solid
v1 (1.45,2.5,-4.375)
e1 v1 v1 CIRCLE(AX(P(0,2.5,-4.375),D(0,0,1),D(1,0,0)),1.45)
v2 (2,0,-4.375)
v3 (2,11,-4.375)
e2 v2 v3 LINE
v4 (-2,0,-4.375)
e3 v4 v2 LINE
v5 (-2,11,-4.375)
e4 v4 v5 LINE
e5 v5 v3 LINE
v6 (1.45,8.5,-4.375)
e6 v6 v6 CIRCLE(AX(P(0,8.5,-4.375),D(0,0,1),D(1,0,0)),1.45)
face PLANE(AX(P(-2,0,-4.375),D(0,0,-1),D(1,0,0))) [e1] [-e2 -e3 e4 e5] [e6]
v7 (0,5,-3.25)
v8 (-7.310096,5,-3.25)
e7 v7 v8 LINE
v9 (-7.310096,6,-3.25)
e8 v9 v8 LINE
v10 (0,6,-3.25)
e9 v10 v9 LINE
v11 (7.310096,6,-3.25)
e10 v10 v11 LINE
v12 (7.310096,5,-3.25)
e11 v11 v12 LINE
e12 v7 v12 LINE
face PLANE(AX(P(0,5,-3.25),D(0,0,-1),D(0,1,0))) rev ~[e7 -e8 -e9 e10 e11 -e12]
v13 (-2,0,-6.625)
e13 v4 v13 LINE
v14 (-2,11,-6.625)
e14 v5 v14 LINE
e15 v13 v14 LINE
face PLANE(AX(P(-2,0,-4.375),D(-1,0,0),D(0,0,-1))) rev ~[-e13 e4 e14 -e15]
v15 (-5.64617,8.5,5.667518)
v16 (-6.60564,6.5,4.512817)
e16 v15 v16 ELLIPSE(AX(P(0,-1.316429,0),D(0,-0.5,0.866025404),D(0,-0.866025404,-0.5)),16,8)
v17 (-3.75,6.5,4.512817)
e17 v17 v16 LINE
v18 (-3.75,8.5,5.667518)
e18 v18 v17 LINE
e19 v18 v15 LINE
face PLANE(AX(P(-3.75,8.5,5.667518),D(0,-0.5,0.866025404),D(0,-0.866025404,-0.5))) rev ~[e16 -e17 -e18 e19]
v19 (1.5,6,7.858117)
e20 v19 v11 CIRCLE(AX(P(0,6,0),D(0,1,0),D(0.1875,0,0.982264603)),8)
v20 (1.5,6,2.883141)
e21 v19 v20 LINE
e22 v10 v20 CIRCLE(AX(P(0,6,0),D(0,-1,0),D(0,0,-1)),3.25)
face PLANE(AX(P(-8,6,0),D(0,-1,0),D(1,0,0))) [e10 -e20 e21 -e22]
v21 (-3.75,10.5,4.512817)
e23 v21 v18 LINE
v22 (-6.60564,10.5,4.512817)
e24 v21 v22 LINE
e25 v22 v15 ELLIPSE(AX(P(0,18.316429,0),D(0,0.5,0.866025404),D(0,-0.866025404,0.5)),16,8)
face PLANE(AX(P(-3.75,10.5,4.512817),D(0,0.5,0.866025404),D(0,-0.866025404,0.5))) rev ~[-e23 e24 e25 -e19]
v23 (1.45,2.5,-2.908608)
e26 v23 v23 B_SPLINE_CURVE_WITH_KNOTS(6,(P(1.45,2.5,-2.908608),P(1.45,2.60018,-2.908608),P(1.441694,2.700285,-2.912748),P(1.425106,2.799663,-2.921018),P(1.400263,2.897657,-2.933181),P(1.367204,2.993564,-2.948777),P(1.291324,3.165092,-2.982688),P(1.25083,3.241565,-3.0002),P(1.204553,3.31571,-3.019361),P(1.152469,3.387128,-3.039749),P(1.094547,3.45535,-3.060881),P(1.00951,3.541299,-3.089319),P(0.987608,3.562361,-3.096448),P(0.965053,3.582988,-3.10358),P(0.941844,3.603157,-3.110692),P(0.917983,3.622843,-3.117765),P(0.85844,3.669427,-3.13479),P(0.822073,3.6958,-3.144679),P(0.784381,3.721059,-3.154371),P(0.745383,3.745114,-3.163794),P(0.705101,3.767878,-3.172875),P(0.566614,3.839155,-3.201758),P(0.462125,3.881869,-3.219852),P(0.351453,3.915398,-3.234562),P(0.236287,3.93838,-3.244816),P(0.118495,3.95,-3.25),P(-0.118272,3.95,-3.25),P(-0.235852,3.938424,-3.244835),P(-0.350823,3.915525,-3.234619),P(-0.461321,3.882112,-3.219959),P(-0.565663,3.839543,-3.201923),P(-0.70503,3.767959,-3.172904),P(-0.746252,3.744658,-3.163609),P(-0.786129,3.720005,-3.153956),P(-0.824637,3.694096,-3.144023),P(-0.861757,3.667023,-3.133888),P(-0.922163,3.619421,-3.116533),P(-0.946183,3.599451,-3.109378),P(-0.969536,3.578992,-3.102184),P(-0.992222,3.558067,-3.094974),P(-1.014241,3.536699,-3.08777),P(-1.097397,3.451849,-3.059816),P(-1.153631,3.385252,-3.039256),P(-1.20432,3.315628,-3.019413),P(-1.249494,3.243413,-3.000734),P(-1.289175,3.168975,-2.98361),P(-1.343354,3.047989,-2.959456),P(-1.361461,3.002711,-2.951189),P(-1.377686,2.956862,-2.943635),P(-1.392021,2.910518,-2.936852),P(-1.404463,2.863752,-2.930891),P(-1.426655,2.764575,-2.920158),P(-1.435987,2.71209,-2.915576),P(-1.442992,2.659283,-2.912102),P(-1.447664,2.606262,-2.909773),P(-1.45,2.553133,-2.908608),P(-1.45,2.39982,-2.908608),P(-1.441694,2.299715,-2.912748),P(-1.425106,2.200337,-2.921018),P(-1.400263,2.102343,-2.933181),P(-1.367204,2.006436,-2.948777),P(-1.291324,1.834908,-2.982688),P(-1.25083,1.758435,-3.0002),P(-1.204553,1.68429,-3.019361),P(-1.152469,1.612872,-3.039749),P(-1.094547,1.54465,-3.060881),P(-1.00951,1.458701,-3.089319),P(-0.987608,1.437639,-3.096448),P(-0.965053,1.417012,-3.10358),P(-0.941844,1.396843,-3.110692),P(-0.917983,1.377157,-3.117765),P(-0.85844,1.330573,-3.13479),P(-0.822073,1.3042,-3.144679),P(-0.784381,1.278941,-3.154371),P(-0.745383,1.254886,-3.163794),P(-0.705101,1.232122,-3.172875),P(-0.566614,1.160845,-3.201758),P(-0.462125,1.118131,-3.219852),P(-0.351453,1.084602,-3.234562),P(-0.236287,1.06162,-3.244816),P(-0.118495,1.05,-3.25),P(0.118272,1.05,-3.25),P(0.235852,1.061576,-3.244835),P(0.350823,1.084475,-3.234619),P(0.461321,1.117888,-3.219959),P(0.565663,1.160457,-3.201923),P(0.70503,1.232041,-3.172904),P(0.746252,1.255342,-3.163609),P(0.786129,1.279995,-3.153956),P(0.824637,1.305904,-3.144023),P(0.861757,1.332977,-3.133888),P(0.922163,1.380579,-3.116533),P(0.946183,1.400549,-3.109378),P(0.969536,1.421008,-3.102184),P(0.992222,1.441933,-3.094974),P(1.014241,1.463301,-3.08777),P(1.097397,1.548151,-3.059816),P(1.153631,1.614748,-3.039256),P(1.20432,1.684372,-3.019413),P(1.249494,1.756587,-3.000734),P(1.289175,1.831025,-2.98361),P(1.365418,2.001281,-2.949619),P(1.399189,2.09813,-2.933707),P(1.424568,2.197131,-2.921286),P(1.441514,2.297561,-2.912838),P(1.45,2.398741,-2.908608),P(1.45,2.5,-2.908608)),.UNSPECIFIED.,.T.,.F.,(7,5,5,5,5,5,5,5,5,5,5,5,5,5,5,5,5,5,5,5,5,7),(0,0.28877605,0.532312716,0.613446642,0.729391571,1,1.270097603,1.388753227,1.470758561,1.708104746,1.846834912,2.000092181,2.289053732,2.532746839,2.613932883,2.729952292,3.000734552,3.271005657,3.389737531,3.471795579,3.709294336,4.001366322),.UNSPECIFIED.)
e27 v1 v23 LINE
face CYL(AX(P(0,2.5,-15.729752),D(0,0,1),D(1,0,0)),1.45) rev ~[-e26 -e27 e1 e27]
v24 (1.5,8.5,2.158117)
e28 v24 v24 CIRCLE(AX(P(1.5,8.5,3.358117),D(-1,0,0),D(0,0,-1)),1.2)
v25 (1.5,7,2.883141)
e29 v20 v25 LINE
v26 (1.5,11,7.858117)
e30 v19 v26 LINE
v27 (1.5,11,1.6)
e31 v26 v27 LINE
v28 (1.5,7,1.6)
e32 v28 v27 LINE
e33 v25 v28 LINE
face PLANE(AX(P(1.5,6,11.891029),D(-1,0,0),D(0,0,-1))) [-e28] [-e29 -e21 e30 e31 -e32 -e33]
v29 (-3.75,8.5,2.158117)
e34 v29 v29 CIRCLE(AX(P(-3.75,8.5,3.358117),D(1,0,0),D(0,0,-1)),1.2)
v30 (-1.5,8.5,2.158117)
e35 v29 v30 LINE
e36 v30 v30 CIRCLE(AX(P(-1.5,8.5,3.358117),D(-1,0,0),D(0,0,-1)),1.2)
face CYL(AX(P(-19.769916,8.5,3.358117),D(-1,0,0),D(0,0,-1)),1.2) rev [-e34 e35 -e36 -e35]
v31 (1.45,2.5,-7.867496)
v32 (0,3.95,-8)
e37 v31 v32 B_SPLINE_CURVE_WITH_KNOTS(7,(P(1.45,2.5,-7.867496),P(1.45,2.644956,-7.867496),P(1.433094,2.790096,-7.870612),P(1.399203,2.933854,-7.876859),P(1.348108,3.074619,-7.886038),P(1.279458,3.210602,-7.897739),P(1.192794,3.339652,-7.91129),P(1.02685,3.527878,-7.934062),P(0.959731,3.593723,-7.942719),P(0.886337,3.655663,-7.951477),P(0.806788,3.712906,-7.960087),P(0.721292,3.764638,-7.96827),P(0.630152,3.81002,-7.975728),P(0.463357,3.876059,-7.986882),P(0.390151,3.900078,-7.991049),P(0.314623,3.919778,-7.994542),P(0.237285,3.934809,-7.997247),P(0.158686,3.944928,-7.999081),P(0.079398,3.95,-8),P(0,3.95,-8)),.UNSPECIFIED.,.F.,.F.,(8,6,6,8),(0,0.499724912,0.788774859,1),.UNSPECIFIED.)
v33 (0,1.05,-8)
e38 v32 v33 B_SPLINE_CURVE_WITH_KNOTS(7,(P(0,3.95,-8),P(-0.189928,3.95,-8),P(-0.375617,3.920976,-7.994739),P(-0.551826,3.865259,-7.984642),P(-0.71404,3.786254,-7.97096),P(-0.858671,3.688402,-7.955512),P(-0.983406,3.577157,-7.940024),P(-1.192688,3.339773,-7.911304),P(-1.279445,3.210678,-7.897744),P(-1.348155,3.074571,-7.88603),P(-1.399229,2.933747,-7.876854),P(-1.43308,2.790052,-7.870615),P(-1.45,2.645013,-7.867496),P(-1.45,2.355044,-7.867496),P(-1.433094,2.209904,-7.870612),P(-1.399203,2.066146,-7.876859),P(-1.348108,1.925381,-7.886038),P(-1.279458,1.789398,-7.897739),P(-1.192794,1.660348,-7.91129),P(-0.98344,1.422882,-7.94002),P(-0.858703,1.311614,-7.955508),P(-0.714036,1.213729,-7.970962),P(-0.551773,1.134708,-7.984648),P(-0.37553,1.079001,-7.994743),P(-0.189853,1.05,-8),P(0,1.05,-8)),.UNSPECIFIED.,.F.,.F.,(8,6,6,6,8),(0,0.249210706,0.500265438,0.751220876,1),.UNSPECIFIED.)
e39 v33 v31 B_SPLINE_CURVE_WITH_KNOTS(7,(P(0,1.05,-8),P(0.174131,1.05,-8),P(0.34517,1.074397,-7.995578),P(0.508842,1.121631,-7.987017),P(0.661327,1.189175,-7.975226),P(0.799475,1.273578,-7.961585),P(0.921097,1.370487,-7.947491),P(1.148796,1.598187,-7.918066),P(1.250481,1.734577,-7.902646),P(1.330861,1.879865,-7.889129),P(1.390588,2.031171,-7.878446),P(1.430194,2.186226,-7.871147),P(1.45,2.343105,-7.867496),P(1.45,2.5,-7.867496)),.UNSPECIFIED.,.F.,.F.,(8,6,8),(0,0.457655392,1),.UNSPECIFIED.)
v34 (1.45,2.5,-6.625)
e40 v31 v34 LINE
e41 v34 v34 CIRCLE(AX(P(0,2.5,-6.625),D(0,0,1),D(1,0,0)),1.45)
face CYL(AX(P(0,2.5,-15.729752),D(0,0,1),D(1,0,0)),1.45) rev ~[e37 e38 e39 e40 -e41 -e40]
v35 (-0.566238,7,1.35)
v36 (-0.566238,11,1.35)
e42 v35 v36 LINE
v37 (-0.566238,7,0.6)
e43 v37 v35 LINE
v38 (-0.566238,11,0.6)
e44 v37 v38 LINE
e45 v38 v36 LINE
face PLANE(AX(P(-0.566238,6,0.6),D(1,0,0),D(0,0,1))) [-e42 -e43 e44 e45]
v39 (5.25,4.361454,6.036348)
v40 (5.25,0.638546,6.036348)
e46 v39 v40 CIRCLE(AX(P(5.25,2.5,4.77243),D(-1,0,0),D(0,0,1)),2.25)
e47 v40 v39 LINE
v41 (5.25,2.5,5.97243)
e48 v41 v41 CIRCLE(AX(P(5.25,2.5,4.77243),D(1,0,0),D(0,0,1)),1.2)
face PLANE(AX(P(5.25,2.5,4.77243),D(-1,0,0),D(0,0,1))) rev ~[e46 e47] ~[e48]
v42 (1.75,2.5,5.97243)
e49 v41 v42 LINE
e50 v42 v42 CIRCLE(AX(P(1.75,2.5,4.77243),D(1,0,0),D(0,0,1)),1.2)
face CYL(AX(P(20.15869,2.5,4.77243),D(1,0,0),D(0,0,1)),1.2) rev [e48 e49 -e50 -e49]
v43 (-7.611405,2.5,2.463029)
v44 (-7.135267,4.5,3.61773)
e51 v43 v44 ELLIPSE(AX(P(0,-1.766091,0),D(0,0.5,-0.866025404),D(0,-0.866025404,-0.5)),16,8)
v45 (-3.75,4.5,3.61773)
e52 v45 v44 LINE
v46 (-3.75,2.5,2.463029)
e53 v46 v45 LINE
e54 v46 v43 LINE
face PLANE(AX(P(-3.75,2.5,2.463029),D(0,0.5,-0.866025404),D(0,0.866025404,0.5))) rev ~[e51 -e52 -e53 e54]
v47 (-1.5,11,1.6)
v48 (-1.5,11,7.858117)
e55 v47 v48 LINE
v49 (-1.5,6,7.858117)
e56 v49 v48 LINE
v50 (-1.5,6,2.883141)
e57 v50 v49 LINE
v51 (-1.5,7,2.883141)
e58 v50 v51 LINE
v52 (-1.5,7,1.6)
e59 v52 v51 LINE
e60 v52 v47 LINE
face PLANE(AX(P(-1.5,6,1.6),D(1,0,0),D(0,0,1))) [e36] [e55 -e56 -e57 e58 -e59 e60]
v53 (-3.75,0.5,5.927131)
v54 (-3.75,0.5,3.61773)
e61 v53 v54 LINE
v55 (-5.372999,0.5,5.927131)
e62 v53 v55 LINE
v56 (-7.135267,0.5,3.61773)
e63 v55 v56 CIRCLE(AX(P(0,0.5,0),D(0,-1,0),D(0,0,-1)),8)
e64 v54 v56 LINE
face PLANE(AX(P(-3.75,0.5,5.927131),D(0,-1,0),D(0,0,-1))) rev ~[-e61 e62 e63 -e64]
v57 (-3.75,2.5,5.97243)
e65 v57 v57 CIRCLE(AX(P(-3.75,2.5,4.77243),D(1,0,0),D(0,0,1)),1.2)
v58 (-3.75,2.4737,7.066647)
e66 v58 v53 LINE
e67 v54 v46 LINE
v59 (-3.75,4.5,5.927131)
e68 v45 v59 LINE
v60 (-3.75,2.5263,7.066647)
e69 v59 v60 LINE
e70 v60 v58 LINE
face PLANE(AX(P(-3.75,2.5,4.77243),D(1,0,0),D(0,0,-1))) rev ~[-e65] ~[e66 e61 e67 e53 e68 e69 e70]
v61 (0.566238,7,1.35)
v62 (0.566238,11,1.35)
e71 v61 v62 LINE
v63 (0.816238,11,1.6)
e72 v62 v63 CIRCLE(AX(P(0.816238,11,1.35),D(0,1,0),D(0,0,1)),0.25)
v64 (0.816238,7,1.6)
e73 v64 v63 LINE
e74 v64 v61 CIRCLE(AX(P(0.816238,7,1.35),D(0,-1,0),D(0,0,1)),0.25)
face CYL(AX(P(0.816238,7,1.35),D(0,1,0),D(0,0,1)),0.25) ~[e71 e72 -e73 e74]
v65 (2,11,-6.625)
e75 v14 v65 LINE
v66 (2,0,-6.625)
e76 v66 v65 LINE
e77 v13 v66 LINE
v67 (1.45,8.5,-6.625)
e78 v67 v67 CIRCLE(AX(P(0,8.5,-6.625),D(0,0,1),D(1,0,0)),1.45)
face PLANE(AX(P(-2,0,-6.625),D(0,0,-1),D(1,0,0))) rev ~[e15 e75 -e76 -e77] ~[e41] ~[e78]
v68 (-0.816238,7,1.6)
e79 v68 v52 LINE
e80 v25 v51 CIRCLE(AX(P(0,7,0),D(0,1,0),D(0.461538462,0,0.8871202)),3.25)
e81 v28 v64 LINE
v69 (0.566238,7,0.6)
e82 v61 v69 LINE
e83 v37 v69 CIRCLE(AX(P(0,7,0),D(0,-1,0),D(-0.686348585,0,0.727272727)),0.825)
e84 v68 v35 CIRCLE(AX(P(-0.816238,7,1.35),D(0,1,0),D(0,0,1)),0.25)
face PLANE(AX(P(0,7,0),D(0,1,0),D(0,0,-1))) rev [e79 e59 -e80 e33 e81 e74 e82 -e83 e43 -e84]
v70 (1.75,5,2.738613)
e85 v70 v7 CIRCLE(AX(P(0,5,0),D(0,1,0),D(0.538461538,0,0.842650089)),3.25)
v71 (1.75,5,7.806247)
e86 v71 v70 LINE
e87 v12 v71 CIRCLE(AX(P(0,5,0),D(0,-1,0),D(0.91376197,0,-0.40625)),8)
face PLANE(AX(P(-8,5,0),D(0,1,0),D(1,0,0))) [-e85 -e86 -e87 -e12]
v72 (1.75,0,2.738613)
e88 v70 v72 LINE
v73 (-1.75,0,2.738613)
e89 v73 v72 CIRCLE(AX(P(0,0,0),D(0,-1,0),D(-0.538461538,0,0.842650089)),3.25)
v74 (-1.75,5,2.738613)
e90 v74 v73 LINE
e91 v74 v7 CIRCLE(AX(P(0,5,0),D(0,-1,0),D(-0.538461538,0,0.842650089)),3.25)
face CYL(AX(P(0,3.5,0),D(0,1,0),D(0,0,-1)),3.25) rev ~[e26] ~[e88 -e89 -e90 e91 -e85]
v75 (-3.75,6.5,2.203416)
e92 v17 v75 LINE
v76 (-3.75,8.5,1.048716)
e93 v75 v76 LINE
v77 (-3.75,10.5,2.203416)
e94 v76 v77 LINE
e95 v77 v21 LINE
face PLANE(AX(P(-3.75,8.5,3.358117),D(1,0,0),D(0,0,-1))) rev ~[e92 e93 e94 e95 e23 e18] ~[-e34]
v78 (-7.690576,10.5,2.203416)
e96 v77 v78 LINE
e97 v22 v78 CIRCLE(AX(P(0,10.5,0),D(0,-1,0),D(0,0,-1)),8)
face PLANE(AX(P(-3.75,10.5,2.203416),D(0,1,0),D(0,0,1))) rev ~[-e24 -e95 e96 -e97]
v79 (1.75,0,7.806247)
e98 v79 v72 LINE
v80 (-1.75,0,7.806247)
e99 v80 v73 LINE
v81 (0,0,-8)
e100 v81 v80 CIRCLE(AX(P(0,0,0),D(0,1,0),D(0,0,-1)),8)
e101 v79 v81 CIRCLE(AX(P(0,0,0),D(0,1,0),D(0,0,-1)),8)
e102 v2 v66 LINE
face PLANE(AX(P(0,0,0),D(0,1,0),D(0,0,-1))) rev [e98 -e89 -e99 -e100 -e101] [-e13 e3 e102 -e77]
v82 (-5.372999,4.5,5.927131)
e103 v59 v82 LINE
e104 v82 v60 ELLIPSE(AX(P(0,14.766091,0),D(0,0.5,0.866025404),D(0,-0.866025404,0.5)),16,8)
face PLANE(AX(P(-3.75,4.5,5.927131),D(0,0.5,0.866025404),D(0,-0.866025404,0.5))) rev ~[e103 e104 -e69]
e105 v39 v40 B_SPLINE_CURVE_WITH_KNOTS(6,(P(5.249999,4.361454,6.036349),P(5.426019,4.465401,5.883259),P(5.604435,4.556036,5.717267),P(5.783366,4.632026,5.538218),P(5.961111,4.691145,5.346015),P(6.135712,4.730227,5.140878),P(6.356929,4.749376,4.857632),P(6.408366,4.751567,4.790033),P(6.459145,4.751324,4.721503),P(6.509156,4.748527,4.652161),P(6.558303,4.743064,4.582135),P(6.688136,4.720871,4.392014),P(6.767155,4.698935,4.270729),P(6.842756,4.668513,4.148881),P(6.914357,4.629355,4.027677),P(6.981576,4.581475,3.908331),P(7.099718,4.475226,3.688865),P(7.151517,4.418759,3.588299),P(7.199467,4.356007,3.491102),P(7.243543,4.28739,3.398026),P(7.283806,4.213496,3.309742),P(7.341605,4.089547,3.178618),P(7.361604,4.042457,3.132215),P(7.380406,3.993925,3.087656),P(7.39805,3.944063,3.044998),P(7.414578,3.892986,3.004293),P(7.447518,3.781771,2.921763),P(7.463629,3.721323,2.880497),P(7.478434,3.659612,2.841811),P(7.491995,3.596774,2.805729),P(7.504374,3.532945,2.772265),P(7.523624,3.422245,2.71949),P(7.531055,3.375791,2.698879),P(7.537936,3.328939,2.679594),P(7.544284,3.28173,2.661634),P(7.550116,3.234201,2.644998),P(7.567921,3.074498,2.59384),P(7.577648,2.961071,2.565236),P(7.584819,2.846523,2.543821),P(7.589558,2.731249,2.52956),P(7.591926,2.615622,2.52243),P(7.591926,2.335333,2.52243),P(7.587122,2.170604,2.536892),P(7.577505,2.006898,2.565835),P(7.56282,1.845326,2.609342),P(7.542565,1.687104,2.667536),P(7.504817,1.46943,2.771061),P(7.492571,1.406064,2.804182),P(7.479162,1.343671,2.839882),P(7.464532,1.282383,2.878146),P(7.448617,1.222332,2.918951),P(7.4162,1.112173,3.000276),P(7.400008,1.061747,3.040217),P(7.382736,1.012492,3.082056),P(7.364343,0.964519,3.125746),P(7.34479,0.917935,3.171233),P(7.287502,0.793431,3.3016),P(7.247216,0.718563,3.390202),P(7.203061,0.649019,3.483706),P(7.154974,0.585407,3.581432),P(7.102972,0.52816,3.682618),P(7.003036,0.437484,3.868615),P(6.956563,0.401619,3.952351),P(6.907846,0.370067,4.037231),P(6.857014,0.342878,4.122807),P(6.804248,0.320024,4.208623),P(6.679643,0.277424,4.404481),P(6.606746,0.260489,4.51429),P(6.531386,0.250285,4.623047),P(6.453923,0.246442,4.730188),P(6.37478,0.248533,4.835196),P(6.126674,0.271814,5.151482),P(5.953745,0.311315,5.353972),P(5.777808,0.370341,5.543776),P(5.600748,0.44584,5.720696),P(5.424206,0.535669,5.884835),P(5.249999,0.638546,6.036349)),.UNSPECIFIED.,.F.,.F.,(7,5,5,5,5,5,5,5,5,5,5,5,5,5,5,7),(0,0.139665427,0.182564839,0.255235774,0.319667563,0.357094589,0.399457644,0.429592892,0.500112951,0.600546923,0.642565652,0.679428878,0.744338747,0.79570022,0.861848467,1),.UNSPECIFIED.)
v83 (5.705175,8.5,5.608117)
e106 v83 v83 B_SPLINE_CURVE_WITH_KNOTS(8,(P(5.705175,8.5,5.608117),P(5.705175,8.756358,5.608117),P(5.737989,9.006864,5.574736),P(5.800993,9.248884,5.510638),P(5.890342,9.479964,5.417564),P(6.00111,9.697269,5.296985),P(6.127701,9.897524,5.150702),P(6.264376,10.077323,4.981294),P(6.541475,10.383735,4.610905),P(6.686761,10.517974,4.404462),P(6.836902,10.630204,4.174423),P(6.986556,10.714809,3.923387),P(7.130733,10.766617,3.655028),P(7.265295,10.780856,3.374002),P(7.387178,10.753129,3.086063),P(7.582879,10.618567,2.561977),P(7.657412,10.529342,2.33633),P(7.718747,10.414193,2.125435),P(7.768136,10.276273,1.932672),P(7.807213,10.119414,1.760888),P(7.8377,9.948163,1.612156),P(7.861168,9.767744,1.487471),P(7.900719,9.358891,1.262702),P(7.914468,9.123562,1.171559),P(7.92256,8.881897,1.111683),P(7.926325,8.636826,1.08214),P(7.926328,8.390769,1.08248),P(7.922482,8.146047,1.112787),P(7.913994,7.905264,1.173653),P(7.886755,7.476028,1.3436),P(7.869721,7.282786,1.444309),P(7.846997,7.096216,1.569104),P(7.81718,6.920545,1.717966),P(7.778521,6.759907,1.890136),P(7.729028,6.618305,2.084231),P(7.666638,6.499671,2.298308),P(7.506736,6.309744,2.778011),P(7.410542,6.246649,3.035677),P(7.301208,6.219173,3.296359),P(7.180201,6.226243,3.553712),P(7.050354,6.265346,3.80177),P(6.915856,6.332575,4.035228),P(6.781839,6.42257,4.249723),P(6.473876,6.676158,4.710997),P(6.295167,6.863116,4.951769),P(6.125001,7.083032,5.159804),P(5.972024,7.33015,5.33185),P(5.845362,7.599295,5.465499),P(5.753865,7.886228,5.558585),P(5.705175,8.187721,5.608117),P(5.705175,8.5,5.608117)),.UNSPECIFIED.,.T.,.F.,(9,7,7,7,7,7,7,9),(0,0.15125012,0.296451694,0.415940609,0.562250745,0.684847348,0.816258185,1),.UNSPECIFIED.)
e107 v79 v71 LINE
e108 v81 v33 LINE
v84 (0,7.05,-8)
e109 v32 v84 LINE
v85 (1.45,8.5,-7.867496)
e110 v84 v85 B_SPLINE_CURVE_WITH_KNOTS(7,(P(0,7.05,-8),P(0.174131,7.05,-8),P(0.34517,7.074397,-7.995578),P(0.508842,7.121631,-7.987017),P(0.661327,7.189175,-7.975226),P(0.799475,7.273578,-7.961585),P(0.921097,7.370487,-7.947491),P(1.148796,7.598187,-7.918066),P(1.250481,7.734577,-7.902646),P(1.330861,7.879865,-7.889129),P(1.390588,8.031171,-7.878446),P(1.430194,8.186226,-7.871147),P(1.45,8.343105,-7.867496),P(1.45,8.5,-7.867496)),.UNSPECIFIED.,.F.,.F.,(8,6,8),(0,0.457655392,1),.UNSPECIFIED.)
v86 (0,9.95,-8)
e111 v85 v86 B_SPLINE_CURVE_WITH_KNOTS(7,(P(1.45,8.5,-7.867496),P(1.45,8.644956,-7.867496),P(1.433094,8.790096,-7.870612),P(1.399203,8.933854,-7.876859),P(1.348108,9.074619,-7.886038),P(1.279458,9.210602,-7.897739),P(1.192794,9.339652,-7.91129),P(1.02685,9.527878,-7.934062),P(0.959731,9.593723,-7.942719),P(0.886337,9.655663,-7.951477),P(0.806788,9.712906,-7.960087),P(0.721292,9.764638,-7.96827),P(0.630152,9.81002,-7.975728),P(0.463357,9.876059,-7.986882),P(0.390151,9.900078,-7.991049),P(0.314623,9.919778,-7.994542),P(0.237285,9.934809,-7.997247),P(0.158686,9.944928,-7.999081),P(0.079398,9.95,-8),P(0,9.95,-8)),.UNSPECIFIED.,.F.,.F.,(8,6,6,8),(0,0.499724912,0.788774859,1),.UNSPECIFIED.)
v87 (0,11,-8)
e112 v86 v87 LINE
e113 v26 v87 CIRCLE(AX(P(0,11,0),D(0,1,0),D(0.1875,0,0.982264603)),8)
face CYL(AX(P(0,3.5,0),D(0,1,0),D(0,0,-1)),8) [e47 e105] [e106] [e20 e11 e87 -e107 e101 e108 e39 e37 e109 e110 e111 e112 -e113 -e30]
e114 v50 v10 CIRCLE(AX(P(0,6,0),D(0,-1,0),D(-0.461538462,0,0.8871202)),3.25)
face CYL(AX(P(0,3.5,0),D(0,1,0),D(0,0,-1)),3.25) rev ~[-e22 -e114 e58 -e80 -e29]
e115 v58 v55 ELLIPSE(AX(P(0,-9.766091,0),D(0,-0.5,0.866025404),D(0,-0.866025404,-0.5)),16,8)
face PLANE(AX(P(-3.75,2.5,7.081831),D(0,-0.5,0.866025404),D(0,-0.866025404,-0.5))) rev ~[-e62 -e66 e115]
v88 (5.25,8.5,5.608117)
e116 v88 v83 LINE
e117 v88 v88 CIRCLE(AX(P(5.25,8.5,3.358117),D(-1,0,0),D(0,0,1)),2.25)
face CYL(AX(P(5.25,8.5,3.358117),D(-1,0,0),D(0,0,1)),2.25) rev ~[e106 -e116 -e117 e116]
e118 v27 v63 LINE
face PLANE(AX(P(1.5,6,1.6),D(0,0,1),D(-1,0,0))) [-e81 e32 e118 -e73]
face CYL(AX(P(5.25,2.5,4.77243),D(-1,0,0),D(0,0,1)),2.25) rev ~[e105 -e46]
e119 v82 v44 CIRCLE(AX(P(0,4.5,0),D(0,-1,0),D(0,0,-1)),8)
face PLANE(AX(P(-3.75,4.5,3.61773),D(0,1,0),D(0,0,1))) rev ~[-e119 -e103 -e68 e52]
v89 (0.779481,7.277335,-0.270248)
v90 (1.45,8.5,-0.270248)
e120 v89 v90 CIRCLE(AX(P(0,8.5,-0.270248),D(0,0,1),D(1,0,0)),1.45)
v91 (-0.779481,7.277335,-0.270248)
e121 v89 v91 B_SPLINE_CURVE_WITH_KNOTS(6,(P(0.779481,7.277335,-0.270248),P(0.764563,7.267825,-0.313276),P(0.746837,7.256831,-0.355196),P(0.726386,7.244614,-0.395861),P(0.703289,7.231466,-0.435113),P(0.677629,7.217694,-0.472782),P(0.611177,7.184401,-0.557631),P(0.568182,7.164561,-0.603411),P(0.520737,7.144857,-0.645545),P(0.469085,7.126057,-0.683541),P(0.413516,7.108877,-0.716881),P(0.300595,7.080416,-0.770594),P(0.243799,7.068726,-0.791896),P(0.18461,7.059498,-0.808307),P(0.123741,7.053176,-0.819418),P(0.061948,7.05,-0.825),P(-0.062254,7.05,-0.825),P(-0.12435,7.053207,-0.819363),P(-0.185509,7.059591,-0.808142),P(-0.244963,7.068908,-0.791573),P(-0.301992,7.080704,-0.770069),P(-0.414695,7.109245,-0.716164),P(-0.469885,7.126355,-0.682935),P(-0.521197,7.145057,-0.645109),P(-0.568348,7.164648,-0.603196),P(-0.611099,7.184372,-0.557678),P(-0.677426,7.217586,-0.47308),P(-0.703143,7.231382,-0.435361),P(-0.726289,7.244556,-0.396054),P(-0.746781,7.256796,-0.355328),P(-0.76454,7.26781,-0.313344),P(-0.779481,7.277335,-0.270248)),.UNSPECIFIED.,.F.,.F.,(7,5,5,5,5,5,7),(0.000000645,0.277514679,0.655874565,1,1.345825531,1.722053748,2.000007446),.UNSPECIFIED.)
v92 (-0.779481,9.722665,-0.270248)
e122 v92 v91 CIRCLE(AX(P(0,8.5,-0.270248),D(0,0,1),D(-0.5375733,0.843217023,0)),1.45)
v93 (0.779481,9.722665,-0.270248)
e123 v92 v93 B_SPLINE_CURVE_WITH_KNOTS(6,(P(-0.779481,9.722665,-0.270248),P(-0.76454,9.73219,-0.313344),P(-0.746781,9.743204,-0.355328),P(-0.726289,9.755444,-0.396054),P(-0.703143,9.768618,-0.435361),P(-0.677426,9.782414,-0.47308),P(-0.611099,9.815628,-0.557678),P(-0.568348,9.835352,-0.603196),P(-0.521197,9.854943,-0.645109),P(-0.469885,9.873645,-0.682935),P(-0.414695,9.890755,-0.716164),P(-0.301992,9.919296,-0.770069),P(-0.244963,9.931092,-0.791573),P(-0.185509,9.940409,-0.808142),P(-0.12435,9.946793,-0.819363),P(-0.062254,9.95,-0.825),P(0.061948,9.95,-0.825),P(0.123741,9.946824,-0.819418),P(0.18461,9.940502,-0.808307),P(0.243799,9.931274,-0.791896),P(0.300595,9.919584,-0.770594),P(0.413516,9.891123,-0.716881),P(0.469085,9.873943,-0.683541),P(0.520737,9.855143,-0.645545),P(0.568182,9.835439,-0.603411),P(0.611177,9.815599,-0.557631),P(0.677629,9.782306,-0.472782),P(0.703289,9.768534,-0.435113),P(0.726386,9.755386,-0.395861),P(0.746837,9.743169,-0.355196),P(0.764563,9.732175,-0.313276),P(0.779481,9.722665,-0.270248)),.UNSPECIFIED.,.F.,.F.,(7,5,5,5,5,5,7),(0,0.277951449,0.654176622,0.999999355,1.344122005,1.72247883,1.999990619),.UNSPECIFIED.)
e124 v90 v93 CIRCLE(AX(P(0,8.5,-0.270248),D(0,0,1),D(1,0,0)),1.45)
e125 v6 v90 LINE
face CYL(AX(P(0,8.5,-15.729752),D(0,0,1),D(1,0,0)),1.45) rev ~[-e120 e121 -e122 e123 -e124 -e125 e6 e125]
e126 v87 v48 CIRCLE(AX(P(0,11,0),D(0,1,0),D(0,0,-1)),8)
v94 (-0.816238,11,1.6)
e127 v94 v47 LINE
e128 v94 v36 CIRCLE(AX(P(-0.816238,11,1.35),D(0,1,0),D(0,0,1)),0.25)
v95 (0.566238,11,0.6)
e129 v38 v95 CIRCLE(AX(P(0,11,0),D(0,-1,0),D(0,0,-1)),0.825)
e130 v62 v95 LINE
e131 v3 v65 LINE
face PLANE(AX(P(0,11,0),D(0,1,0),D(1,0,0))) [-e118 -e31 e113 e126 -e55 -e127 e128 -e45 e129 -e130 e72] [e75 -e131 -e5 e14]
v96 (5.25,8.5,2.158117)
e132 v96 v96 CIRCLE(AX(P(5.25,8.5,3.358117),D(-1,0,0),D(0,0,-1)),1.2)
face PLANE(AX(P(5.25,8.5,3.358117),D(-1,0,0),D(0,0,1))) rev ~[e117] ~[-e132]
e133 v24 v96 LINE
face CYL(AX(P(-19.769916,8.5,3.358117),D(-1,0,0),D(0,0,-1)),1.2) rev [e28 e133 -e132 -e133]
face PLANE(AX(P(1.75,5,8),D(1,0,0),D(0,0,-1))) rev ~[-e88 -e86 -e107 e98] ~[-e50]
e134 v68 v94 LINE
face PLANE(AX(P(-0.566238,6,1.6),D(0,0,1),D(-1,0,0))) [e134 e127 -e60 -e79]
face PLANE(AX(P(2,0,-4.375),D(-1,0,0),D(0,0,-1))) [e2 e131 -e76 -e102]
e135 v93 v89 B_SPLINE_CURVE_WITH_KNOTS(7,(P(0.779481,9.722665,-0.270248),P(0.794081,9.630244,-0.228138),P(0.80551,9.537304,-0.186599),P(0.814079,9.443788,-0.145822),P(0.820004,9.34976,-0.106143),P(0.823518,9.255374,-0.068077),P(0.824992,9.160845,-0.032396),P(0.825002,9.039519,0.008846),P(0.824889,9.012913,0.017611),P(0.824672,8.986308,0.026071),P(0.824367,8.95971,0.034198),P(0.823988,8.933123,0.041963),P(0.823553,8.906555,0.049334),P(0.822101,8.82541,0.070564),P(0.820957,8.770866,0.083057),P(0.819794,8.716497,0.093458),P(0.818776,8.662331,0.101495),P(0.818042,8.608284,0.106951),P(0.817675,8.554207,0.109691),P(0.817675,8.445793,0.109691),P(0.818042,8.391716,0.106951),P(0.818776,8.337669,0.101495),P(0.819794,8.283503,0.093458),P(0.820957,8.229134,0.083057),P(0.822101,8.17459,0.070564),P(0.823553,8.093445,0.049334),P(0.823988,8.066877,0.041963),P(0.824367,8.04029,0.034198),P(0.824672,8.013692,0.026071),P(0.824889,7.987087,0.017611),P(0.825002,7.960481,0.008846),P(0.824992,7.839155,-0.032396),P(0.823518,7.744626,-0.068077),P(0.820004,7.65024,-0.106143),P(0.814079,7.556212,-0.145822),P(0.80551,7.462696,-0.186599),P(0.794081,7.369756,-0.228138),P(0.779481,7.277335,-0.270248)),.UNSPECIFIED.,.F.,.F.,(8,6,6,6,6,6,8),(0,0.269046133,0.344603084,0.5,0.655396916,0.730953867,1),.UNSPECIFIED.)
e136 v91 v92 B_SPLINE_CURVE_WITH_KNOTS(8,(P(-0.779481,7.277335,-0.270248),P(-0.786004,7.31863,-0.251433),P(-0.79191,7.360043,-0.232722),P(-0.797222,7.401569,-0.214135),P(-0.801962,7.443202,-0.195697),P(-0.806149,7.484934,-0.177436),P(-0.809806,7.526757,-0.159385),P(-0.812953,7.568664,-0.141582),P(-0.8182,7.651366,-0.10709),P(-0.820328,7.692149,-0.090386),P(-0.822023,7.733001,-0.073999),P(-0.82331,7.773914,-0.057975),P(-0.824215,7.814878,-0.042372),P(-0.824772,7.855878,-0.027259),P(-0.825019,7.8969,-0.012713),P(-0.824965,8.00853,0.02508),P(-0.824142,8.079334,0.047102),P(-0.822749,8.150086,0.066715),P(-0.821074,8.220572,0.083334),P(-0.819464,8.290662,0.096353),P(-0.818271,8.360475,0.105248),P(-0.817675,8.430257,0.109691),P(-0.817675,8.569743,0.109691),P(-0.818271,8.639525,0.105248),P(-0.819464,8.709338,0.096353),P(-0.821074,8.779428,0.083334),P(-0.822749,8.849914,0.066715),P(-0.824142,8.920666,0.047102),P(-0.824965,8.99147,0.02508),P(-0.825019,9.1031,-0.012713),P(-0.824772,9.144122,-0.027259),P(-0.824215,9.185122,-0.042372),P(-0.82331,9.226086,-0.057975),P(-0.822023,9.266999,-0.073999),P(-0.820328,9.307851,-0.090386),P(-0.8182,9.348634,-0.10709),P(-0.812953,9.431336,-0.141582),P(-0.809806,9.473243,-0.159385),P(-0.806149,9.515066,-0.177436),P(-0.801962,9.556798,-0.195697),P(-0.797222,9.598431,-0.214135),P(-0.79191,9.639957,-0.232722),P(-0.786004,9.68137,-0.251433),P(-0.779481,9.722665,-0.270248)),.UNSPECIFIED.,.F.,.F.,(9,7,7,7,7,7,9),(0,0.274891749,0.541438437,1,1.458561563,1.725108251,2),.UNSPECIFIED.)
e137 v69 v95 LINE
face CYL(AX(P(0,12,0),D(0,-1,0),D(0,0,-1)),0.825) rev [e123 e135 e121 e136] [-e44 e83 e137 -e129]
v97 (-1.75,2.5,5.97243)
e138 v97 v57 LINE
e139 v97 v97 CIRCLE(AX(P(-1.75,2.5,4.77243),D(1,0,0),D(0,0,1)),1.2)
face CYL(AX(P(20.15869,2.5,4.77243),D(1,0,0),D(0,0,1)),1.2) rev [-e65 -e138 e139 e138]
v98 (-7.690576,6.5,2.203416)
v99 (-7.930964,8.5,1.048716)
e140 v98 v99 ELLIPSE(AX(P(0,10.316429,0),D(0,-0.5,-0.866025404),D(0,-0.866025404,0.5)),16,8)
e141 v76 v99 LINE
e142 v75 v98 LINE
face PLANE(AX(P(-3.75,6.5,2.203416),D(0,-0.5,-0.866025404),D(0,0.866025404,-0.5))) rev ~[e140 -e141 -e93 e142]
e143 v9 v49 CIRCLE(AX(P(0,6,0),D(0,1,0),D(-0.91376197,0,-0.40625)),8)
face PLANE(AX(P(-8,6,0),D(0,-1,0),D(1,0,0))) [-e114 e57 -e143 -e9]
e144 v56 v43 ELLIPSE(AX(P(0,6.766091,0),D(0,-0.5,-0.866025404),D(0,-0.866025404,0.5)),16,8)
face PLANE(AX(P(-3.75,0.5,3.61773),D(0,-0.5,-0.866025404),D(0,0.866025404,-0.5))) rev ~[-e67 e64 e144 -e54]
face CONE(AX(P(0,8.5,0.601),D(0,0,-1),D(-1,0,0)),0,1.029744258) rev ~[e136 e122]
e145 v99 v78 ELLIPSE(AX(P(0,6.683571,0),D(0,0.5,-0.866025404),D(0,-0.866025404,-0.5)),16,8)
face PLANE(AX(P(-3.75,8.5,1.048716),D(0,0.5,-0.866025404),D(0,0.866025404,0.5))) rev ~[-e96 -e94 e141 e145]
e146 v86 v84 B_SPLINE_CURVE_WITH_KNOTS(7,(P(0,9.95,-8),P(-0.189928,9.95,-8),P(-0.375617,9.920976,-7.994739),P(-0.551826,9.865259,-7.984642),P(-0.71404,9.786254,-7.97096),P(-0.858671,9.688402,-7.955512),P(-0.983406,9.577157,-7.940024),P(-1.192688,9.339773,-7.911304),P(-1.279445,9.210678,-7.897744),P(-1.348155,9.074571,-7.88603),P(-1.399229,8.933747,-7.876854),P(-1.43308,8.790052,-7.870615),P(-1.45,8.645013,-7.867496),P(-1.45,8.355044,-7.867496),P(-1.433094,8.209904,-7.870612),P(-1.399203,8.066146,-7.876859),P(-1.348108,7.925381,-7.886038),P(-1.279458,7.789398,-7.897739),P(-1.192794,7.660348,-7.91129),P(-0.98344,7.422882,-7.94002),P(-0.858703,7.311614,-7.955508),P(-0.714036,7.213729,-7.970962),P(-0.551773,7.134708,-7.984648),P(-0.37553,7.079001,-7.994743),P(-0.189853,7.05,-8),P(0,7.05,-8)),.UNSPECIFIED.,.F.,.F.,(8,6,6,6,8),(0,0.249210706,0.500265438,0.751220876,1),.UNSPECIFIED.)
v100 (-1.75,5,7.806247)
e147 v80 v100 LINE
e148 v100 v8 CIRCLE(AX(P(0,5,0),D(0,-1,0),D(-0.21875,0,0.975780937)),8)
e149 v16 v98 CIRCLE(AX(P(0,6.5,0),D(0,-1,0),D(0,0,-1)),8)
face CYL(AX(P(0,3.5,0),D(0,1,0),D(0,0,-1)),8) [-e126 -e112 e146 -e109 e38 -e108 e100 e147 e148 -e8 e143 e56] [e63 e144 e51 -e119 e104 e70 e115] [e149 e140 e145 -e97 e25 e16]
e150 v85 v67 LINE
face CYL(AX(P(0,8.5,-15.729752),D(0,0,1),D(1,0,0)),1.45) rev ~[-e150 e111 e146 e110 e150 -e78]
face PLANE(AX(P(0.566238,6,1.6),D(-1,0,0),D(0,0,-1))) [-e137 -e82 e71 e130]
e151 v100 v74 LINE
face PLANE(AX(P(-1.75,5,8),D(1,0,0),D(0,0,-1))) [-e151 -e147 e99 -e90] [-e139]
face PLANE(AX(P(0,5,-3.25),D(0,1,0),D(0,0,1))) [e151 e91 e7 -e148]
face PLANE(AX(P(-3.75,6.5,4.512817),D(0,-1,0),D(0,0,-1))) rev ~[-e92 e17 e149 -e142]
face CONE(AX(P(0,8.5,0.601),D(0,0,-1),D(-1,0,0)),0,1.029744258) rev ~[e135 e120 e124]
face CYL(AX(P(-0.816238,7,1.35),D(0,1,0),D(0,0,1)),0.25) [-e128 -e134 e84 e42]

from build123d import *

# Parameters (mm, degrees)
SKETCH1_W                            = 4.75
SKETCH1_H                            = 7
FILLET1_R                            = 1
SKETCH16_W                           = 16
SKETCH16_H                           = 1
CUT_EXTRUDE5_DEPTH                   = 1
CUT_EXTRUDE5_DIRECTION_2_REACH       = 18.492
CUT_EXTRUDE6_REACH                   = 15.304
SKETCH17_W                           = 3.5
SKETCH17_H                           = 5.261387212
CUT_EXTRUDE7_DEPTH                   = 18.408690359
CUT_EXTRUDE7_DEPTH_BACK              = 18.408690359
SKETCH18_R                           = 1.2
CUT_EXTRUDE10_START                  = -6
SKETCH21_R                           = 0.825
CUT_EXTRUDE10_DEPTH                  = 6
CUT_EXTRUDE11_DEPTH                  = 18.26991621
CUT_EXTRUDE11_DEPTH_BACK             = 18.26991621
SKETCH22_R                           = 1.2
CUT_EXTRUDE9_REACH                   = 20.603
CUT_EXTRUDE9_END_RADIUS              = 8
SKETCH20_R                           = 1.2
CUT_EXTRUDE12_REACH                  = 21.585
SKETCH19_R                           = 2.25
CUT_EXTRUDE13_REACH                  = 21.585
CUT_EXTRUDE13_END_RADIUS             = 8
SKETCH24_R                           = 2.25
CUT_EXTRUDE14_REACH                  = 18.492
CUT_EXTRUDE14_END_RADIUS             = 8
SKETCH25_W                           = 2.25
SKETCH25_H                           = 1
CUT_EXTRUDE14_DIRECTION_2_REACH      = 18.492
CUT_EXTRUDE14_DIRECTION_2_END_RADIUS = 8
M2_5_CLEARANCE_HOLE1_D               = 2.9
M2_5_CLEARANCE_HOLE1_DEPTH           = 7.729752102
M2_5_CLEARANCE_HOLE1_TIP             = 0.871247898
CUT_EXTRUDE15_START                  = -12
SKETCH29_W                           = 4
SKETCH29_H                           = 2.25
CUT_EXTRUDE15_DEPTH                  = 12
FILLET3_R                            = 0.25
SKETCH30_R                           = 8
CUT_EXTRUDE19_DEPTH                  = 1


with BuildPart() as part:
    # Sketch1 → Revolve1 (revolve)
    with BuildSketch(Plane.XY, mode=Mode.PRIVATE) as revolve1_sk:
        with Locations((5.625, 3.5)):
            Rectangle(SKETCH1_W, SKETCH1_H)
    revolve(revolve1_sk.sketch.rotate(Axis((0, 0, 0), (0, 1, 0)), 90), axis=Axis((0, 0, 0), (0, 1, 0)))

    # Sketch1<3> → Revolve2 (revolve)
    with BuildSketch(Plane.XY, mode=Mode.PRIVATE) as revolve2_sk:
        Polygon((0.825, 7), (3.25, 7), (8, 7), (8, 12), (0.825, 12), align=None)
    revolve(revolve2_sk.sketch.rotate(Axis((0, 0, 0), (0, 1, 0)), 90), axis=Axis((0, 0, 0), (0, 1, 0)))

    # Fillet1
    fillet1_edges = [part.edges().sort_by_distance(p)[0] for p in [
        (0, 12, 8),
    ]]
    fillet(fillet1_edges, radius=FILLET1_R)

    # Sketch16 → Cut-Extrude5 (cut)
    with BuildSketch(Plane.XY):
        with Locations((0, 5.5)):
            Rectangle(SKETCH16_W, SKETCH16_H)
    extrude(amount=-CUT_EXTRUDE5_DEPTH, mode=Mode.SUBTRACT)

    # Sketch16 → Cut-Extrude5 direction 2 (cut, up to next)
    with BuildSketch(Plane.XY, mode=Mode.PRIVATE) as cut_extrude5_direction_2_sk1:
        with Locations((0, 5.5)):
            Rectangle(SKETCH16_W, SKETCH16_H)
    cut_extrude5_direction_2_tool1 = extrude(cut_extrude5_direction_2_sk1.sketch, amount=CUT_EXTRUDE5_DIRECTION_2_REACH, mode=Mode.PRIVATE) & part.part
    add(cut_extrude5_direction_2_tool1.solids().sort_by_distance((0, 5.5, 0))[0], mode=Mode.SUBTRACT)

    # Sketch17 → Cut-Extrude6 (cut, up to next)
    with BuildSketch(Plane(origin=(0, 5, 0), x_dir=(1, 0, 0), z_dir=(0, 1, 0)), mode=Mode.PRIVATE) as cut_extrude6_sk1:
        with Locations((0, -5.369306394)):
            Rectangle(SKETCH17_W, SKETCH17_H)
    cut_extrude6_tool1 = extrude(cut_extrude6_sk1.sketch, amount=-CUT_EXTRUDE6_REACH, mode=Mode.PRIVATE) & part.part
    add(cut_extrude6_tool1.solids().sort_by_distance((0, 5, 5.369306))[0], mode=Mode.SUBTRACT)

    # Sketch18 → Cut-Extrude7 (cut, two sides: drawn at the far end of the back side and taken through both)
    with BuildSketch(Plane.ZY.offset(-1.75).offset(-CUT_EXTRUDE7_DEPTH_BACK)):
        with Locations((4.772430143, 2.5)):
            Circle(SKETCH18_R)
    extrude(amount=CUT_EXTRUDE7_DEPTH + CUT_EXTRUDE7_DEPTH_BACK, mode=Mode.SUBTRACT)

    # Sketch21 → Cut-Extrude10 (cut)
    with BuildSketch(Plane(origin=(0, 12, 0), x_dir=(1, 0, 0), z_dir=(0, 1, 0)).offset(CUT_EXTRUDE10_START)):
        Circle(SKETCH21_R)
        Polygon((-1.5, -1.6), (-1.5, -11.891029443), (1.5, -11.891029443), (1.5, -1.6), (0.566237583, -1.6), (0.566237583, -0.6), (-0.566237583, -0.6), (-0.566237583, -1.6), align=None)
    extrude(amount=CUT_EXTRUDE10_DEPTH, mode=Mode.SUBTRACT)

    # Sketch22 → Cut-Extrude11 (cut, two sides: drawn at the far end of the back side and taken through both)
    with BuildSketch(Plane(origin=(-1.5, 0, 0), x_dir=(0, 0, -1), z_dir=(1, 0, 0)).offset(-CUT_EXTRUDE11_DEPTH_BACK)):
        with Locations((-3.358116823, 8.5)):
            Circle(SKETCH22_R)
    extrude(amount=CUT_EXTRUDE11_DEPTH + CUT_EXTRUDE11_DEPTH_BACK, mode=Mode.SUBTRACT)

    # Cut-Extrude9: up to this cylinder (the profile starts inside it)
    cut_extrude9_end = Plane(origin=(0, 5.9847245, 0), z_dir=(0, -1, 0)) * Cylinder(CUT_EXTRUDE9_END_RADIUS, 65.175449, mode=Mode.PRIVATE)
    # Sketch20 → Cut-Extrude9 (cut, up to the surface)
    with BuildSketch(Plane(origin=(-3.75, 0, 0), x_dir=(0, 0, -1), z_dir=(1, 0, 0)), mode=Mode.PRIVATE) as cut_extrude9_sk1:
        Polygon((-2.463029066, 2.5), (-3.617729604, 4.5), (-5.927130681, 4.5), (-7.08183122, 2.5), (-5.927130681, 0.5), (-3.617729604, 0.5), align=None)
    cut_extrude9_tool1 = extrude(cut_extrude9_sk1.sketch, amount=-CUT_EXTRUDE9_REACH, mode=Mode.PRIVATE) & cut_extrude9_end
    add(cut_extrude9_tool1.solids().sort_by_distance((-3.75, 2.5, 4.77243))[0], mode=Mode.SUBTRACT)
    # Sketch20 → Cut-Extrude9 (cut, up to the surface)
    with BuildSketch(Plane(origin=(-3.75, 0, 0), x_dir=(0, 0, -1), z_dir=(1, 0, 0)), mode=Mode.PRIVATE) as cut_extrude9_sk2:
        Polygon((-1.048715746, 8.5), (-2.203416284, 10.5), (-4.512817361, 10.5), (-5.6675179, 8.5), (-4.512817361, 6.5), (-2.203416284, 6.5), align=None)
        with Locations((-3.358116823, 8.5)):
            Circle(SKETCH20_R, mode=Mode.SUBTRACT)
    cut_extrude9_tool2 = extrude(cut_extrude9_sk2.sketch, amount=-CUT_EXTRUDE9_REACH, mode=Mode.PRIVATE) & cut_extrude9_end
    add(cut_extrude9_tool2.solids().sort_by_distance((-3.75, 9.469449, 1.678981))[0], mode=Mode.SUBTRACT)

    # Sketch19 → Cut-Extrude12 (cut, up to next)
    with BuildSketch(Plane.ZY.offset(-5.25), mode=Mode.PRIVATE) as cut_extrude12_sk1:
        with Locations((4.772430143, 2.5)):
            Circle(SKETCH19_R)
    cut_extrude12_tool1 = extrude(cut_extrude12_sk1.sketch, amount=-CUT_EXTRUDE12_REACH, mode=Mode.PRIVATE) & part.part
    add(cut_extrude12_tool1.solids().sort_by_distance((5.25, 2.5, 4.77243))[0], mode=Mode.SUBTRACT)

    # Cut-Extrude13: up to this cylinder (the profile starts inside it)
    cut_extrude13_end = Plane(origin=(0, 8.5, 0), z_dir=(0, -1, 0)) * Cylinder(CUT_EXTRUDE13_END_RADIUS, 60.17, mode=Mode.PRIVATE)
    # Sketch24 → Cut-Extrude13 (cut, up to the surface)
    with BuildSketch(Plane.ZY.offset(-5.25), mode=Mode.PRIVATE) as cut_extrude13_sk1:
        with Locations((3.358116823, 8.5)):
            Circle(SKETCH24_R)
    cut_extrude13_tool1 = extrude(cut_extrude13_sk1.sketch, amount=-CUT_EXTRUDE13_REACH, mode=Mode.PRIVATE) & cut_extrude13_end
    add(cut_extrude13_tool1.solids().sort_by_distance((5.25, 8.5, 3.358117))[0], mode=Mode.SUBTRACT)

    # Cut-Extrude14: up to this cylinder (the profile starts inside it)
    cut_extrude14_end = Plane(origin=(0, 5.5, 0), z_dir=(0, -1, 0)) * Cylinder(CUT_EXTRUDE14_END_RADIUS, 53.984, mode=Mode.PRIVATE)
    # Sketch25 → Cut-Extrude14 (cut, up to the surface)
    with BuildSketch(Plane.ZY, mode=Mode.PRIVATE) as cut_extrude14_sk1:
        with Locations((-2.125, 5.5)):
            Rectangle(SKETCH25_W, SKETCH25_H)
    cut_extrude14_tool1 = extrude(cut_extrude14_sk1.sketch, amount=-CUT_EXTRUDE14_REACH, mode=Mode.PRIVATE) & cut_extrude14_end
    add(cut_extrude14_tool1.solids().sort_by_distance((0, 5.5, -2.125))[0], mode=Mode.SUBTRACT)

    # Cut-Extrude14 direction 2: up to this cylinder (the profile starts inside it)
    cut_extrude14_direction_2_end = Plane(origin=(0, 5.5, 0), z_dir=(0, -1, 0)) * Cylinder(CUT_EXTRUDE14_DIRECTION_2_END_RADIUS, 53.984, mode=Mode.PRIVATE)
    # Sketch25 → Cut-Extrude14 direction 2 (cut, up to the surface)
    with BuildSketch(Plane.ZY, mode=Mode.PRIVATE) as cut_extrude14_direction_2_sk1:
        with Locations((-2.125, 5.5)):
            Rectangle(SKETCH25_W, SKETCH25_H)
    cut_extrude14_direction_2_tool1 = extrude(cut_extrude14_direction_2_sk1.sketch, amount=CUT_EXTRUDE14_DIRECTION_2_REACH, mode=Mode.PRIVATE) & cut_extrude14_direction_2_end
    add(cut_extrude14_direction_2_tool1.solids().sort_by_distance((0, 5.5, -2.125))[0], mode=Mode.SUBTRACT)

    # M2.5 Clearance Hole1
    with Locations(Plane(origin=(0, 0, -8), x_dir=(-1, 0, 0), z_dir=(0, 0, -1))):
        with Locations((0, 8.5), (0, 2.5)):
            Hole(M2_5_CLEARANCE_HOLE1_D / 2, depth=M2_5_CLEARANCE_HOLE1_DEPTH)
            with Locations((0, 0, -(M2_5_CLEARANCE_HOLE1_DEPTH + M2_5_CLEARANCE_HOLE1_TIP / 2))):  # 118° drill point
                Cone(0, M2_5_CLEARANCE_HOLE1_D / 2, M2_5_CLEARANCE_HOLE1_TIP, mode=Mode.SUBTRACT)

    # Sketch29 → Cut-Extrude15 (cut)
    with BuildSketch(Plane(origin=(0, 12, 0), x_dir=(1, 0, 0), z_dir=(0, 1, 0)).offset(CUT_EXTRUDE15_START)):
        with Locations((0, 5.5)):
            Rectangle(SKETCH29_W, SKETCH29_H)
    extrude(amount=CUT_EXTRUDE15_DEPTH, mode=Mode.SUBTRACT)

    # Fillet3
    fillet3_edges = [part.edges().sort_by_distance(p)[0] for p in [
        (0.566237583, 9.5, 1.6),
        (-0.566237583, 9.5, 1.6),
    ]]
    fillet(fillet3_edges, radius=FILLET3_R)

    # Sketch30 → Cut-Extrude19 (cut)
    with BuildSketch(Plane(origin=(0, 12, 0), x_dir=(1, 0, 0), z_dir=(0, 1, 0))):
        Circle(SKETCH30_R)
    extrude(amount=-CUT_EXTRUDE19_DEPTH, mode=Mode.SUBTRACT)


solid = part.part
